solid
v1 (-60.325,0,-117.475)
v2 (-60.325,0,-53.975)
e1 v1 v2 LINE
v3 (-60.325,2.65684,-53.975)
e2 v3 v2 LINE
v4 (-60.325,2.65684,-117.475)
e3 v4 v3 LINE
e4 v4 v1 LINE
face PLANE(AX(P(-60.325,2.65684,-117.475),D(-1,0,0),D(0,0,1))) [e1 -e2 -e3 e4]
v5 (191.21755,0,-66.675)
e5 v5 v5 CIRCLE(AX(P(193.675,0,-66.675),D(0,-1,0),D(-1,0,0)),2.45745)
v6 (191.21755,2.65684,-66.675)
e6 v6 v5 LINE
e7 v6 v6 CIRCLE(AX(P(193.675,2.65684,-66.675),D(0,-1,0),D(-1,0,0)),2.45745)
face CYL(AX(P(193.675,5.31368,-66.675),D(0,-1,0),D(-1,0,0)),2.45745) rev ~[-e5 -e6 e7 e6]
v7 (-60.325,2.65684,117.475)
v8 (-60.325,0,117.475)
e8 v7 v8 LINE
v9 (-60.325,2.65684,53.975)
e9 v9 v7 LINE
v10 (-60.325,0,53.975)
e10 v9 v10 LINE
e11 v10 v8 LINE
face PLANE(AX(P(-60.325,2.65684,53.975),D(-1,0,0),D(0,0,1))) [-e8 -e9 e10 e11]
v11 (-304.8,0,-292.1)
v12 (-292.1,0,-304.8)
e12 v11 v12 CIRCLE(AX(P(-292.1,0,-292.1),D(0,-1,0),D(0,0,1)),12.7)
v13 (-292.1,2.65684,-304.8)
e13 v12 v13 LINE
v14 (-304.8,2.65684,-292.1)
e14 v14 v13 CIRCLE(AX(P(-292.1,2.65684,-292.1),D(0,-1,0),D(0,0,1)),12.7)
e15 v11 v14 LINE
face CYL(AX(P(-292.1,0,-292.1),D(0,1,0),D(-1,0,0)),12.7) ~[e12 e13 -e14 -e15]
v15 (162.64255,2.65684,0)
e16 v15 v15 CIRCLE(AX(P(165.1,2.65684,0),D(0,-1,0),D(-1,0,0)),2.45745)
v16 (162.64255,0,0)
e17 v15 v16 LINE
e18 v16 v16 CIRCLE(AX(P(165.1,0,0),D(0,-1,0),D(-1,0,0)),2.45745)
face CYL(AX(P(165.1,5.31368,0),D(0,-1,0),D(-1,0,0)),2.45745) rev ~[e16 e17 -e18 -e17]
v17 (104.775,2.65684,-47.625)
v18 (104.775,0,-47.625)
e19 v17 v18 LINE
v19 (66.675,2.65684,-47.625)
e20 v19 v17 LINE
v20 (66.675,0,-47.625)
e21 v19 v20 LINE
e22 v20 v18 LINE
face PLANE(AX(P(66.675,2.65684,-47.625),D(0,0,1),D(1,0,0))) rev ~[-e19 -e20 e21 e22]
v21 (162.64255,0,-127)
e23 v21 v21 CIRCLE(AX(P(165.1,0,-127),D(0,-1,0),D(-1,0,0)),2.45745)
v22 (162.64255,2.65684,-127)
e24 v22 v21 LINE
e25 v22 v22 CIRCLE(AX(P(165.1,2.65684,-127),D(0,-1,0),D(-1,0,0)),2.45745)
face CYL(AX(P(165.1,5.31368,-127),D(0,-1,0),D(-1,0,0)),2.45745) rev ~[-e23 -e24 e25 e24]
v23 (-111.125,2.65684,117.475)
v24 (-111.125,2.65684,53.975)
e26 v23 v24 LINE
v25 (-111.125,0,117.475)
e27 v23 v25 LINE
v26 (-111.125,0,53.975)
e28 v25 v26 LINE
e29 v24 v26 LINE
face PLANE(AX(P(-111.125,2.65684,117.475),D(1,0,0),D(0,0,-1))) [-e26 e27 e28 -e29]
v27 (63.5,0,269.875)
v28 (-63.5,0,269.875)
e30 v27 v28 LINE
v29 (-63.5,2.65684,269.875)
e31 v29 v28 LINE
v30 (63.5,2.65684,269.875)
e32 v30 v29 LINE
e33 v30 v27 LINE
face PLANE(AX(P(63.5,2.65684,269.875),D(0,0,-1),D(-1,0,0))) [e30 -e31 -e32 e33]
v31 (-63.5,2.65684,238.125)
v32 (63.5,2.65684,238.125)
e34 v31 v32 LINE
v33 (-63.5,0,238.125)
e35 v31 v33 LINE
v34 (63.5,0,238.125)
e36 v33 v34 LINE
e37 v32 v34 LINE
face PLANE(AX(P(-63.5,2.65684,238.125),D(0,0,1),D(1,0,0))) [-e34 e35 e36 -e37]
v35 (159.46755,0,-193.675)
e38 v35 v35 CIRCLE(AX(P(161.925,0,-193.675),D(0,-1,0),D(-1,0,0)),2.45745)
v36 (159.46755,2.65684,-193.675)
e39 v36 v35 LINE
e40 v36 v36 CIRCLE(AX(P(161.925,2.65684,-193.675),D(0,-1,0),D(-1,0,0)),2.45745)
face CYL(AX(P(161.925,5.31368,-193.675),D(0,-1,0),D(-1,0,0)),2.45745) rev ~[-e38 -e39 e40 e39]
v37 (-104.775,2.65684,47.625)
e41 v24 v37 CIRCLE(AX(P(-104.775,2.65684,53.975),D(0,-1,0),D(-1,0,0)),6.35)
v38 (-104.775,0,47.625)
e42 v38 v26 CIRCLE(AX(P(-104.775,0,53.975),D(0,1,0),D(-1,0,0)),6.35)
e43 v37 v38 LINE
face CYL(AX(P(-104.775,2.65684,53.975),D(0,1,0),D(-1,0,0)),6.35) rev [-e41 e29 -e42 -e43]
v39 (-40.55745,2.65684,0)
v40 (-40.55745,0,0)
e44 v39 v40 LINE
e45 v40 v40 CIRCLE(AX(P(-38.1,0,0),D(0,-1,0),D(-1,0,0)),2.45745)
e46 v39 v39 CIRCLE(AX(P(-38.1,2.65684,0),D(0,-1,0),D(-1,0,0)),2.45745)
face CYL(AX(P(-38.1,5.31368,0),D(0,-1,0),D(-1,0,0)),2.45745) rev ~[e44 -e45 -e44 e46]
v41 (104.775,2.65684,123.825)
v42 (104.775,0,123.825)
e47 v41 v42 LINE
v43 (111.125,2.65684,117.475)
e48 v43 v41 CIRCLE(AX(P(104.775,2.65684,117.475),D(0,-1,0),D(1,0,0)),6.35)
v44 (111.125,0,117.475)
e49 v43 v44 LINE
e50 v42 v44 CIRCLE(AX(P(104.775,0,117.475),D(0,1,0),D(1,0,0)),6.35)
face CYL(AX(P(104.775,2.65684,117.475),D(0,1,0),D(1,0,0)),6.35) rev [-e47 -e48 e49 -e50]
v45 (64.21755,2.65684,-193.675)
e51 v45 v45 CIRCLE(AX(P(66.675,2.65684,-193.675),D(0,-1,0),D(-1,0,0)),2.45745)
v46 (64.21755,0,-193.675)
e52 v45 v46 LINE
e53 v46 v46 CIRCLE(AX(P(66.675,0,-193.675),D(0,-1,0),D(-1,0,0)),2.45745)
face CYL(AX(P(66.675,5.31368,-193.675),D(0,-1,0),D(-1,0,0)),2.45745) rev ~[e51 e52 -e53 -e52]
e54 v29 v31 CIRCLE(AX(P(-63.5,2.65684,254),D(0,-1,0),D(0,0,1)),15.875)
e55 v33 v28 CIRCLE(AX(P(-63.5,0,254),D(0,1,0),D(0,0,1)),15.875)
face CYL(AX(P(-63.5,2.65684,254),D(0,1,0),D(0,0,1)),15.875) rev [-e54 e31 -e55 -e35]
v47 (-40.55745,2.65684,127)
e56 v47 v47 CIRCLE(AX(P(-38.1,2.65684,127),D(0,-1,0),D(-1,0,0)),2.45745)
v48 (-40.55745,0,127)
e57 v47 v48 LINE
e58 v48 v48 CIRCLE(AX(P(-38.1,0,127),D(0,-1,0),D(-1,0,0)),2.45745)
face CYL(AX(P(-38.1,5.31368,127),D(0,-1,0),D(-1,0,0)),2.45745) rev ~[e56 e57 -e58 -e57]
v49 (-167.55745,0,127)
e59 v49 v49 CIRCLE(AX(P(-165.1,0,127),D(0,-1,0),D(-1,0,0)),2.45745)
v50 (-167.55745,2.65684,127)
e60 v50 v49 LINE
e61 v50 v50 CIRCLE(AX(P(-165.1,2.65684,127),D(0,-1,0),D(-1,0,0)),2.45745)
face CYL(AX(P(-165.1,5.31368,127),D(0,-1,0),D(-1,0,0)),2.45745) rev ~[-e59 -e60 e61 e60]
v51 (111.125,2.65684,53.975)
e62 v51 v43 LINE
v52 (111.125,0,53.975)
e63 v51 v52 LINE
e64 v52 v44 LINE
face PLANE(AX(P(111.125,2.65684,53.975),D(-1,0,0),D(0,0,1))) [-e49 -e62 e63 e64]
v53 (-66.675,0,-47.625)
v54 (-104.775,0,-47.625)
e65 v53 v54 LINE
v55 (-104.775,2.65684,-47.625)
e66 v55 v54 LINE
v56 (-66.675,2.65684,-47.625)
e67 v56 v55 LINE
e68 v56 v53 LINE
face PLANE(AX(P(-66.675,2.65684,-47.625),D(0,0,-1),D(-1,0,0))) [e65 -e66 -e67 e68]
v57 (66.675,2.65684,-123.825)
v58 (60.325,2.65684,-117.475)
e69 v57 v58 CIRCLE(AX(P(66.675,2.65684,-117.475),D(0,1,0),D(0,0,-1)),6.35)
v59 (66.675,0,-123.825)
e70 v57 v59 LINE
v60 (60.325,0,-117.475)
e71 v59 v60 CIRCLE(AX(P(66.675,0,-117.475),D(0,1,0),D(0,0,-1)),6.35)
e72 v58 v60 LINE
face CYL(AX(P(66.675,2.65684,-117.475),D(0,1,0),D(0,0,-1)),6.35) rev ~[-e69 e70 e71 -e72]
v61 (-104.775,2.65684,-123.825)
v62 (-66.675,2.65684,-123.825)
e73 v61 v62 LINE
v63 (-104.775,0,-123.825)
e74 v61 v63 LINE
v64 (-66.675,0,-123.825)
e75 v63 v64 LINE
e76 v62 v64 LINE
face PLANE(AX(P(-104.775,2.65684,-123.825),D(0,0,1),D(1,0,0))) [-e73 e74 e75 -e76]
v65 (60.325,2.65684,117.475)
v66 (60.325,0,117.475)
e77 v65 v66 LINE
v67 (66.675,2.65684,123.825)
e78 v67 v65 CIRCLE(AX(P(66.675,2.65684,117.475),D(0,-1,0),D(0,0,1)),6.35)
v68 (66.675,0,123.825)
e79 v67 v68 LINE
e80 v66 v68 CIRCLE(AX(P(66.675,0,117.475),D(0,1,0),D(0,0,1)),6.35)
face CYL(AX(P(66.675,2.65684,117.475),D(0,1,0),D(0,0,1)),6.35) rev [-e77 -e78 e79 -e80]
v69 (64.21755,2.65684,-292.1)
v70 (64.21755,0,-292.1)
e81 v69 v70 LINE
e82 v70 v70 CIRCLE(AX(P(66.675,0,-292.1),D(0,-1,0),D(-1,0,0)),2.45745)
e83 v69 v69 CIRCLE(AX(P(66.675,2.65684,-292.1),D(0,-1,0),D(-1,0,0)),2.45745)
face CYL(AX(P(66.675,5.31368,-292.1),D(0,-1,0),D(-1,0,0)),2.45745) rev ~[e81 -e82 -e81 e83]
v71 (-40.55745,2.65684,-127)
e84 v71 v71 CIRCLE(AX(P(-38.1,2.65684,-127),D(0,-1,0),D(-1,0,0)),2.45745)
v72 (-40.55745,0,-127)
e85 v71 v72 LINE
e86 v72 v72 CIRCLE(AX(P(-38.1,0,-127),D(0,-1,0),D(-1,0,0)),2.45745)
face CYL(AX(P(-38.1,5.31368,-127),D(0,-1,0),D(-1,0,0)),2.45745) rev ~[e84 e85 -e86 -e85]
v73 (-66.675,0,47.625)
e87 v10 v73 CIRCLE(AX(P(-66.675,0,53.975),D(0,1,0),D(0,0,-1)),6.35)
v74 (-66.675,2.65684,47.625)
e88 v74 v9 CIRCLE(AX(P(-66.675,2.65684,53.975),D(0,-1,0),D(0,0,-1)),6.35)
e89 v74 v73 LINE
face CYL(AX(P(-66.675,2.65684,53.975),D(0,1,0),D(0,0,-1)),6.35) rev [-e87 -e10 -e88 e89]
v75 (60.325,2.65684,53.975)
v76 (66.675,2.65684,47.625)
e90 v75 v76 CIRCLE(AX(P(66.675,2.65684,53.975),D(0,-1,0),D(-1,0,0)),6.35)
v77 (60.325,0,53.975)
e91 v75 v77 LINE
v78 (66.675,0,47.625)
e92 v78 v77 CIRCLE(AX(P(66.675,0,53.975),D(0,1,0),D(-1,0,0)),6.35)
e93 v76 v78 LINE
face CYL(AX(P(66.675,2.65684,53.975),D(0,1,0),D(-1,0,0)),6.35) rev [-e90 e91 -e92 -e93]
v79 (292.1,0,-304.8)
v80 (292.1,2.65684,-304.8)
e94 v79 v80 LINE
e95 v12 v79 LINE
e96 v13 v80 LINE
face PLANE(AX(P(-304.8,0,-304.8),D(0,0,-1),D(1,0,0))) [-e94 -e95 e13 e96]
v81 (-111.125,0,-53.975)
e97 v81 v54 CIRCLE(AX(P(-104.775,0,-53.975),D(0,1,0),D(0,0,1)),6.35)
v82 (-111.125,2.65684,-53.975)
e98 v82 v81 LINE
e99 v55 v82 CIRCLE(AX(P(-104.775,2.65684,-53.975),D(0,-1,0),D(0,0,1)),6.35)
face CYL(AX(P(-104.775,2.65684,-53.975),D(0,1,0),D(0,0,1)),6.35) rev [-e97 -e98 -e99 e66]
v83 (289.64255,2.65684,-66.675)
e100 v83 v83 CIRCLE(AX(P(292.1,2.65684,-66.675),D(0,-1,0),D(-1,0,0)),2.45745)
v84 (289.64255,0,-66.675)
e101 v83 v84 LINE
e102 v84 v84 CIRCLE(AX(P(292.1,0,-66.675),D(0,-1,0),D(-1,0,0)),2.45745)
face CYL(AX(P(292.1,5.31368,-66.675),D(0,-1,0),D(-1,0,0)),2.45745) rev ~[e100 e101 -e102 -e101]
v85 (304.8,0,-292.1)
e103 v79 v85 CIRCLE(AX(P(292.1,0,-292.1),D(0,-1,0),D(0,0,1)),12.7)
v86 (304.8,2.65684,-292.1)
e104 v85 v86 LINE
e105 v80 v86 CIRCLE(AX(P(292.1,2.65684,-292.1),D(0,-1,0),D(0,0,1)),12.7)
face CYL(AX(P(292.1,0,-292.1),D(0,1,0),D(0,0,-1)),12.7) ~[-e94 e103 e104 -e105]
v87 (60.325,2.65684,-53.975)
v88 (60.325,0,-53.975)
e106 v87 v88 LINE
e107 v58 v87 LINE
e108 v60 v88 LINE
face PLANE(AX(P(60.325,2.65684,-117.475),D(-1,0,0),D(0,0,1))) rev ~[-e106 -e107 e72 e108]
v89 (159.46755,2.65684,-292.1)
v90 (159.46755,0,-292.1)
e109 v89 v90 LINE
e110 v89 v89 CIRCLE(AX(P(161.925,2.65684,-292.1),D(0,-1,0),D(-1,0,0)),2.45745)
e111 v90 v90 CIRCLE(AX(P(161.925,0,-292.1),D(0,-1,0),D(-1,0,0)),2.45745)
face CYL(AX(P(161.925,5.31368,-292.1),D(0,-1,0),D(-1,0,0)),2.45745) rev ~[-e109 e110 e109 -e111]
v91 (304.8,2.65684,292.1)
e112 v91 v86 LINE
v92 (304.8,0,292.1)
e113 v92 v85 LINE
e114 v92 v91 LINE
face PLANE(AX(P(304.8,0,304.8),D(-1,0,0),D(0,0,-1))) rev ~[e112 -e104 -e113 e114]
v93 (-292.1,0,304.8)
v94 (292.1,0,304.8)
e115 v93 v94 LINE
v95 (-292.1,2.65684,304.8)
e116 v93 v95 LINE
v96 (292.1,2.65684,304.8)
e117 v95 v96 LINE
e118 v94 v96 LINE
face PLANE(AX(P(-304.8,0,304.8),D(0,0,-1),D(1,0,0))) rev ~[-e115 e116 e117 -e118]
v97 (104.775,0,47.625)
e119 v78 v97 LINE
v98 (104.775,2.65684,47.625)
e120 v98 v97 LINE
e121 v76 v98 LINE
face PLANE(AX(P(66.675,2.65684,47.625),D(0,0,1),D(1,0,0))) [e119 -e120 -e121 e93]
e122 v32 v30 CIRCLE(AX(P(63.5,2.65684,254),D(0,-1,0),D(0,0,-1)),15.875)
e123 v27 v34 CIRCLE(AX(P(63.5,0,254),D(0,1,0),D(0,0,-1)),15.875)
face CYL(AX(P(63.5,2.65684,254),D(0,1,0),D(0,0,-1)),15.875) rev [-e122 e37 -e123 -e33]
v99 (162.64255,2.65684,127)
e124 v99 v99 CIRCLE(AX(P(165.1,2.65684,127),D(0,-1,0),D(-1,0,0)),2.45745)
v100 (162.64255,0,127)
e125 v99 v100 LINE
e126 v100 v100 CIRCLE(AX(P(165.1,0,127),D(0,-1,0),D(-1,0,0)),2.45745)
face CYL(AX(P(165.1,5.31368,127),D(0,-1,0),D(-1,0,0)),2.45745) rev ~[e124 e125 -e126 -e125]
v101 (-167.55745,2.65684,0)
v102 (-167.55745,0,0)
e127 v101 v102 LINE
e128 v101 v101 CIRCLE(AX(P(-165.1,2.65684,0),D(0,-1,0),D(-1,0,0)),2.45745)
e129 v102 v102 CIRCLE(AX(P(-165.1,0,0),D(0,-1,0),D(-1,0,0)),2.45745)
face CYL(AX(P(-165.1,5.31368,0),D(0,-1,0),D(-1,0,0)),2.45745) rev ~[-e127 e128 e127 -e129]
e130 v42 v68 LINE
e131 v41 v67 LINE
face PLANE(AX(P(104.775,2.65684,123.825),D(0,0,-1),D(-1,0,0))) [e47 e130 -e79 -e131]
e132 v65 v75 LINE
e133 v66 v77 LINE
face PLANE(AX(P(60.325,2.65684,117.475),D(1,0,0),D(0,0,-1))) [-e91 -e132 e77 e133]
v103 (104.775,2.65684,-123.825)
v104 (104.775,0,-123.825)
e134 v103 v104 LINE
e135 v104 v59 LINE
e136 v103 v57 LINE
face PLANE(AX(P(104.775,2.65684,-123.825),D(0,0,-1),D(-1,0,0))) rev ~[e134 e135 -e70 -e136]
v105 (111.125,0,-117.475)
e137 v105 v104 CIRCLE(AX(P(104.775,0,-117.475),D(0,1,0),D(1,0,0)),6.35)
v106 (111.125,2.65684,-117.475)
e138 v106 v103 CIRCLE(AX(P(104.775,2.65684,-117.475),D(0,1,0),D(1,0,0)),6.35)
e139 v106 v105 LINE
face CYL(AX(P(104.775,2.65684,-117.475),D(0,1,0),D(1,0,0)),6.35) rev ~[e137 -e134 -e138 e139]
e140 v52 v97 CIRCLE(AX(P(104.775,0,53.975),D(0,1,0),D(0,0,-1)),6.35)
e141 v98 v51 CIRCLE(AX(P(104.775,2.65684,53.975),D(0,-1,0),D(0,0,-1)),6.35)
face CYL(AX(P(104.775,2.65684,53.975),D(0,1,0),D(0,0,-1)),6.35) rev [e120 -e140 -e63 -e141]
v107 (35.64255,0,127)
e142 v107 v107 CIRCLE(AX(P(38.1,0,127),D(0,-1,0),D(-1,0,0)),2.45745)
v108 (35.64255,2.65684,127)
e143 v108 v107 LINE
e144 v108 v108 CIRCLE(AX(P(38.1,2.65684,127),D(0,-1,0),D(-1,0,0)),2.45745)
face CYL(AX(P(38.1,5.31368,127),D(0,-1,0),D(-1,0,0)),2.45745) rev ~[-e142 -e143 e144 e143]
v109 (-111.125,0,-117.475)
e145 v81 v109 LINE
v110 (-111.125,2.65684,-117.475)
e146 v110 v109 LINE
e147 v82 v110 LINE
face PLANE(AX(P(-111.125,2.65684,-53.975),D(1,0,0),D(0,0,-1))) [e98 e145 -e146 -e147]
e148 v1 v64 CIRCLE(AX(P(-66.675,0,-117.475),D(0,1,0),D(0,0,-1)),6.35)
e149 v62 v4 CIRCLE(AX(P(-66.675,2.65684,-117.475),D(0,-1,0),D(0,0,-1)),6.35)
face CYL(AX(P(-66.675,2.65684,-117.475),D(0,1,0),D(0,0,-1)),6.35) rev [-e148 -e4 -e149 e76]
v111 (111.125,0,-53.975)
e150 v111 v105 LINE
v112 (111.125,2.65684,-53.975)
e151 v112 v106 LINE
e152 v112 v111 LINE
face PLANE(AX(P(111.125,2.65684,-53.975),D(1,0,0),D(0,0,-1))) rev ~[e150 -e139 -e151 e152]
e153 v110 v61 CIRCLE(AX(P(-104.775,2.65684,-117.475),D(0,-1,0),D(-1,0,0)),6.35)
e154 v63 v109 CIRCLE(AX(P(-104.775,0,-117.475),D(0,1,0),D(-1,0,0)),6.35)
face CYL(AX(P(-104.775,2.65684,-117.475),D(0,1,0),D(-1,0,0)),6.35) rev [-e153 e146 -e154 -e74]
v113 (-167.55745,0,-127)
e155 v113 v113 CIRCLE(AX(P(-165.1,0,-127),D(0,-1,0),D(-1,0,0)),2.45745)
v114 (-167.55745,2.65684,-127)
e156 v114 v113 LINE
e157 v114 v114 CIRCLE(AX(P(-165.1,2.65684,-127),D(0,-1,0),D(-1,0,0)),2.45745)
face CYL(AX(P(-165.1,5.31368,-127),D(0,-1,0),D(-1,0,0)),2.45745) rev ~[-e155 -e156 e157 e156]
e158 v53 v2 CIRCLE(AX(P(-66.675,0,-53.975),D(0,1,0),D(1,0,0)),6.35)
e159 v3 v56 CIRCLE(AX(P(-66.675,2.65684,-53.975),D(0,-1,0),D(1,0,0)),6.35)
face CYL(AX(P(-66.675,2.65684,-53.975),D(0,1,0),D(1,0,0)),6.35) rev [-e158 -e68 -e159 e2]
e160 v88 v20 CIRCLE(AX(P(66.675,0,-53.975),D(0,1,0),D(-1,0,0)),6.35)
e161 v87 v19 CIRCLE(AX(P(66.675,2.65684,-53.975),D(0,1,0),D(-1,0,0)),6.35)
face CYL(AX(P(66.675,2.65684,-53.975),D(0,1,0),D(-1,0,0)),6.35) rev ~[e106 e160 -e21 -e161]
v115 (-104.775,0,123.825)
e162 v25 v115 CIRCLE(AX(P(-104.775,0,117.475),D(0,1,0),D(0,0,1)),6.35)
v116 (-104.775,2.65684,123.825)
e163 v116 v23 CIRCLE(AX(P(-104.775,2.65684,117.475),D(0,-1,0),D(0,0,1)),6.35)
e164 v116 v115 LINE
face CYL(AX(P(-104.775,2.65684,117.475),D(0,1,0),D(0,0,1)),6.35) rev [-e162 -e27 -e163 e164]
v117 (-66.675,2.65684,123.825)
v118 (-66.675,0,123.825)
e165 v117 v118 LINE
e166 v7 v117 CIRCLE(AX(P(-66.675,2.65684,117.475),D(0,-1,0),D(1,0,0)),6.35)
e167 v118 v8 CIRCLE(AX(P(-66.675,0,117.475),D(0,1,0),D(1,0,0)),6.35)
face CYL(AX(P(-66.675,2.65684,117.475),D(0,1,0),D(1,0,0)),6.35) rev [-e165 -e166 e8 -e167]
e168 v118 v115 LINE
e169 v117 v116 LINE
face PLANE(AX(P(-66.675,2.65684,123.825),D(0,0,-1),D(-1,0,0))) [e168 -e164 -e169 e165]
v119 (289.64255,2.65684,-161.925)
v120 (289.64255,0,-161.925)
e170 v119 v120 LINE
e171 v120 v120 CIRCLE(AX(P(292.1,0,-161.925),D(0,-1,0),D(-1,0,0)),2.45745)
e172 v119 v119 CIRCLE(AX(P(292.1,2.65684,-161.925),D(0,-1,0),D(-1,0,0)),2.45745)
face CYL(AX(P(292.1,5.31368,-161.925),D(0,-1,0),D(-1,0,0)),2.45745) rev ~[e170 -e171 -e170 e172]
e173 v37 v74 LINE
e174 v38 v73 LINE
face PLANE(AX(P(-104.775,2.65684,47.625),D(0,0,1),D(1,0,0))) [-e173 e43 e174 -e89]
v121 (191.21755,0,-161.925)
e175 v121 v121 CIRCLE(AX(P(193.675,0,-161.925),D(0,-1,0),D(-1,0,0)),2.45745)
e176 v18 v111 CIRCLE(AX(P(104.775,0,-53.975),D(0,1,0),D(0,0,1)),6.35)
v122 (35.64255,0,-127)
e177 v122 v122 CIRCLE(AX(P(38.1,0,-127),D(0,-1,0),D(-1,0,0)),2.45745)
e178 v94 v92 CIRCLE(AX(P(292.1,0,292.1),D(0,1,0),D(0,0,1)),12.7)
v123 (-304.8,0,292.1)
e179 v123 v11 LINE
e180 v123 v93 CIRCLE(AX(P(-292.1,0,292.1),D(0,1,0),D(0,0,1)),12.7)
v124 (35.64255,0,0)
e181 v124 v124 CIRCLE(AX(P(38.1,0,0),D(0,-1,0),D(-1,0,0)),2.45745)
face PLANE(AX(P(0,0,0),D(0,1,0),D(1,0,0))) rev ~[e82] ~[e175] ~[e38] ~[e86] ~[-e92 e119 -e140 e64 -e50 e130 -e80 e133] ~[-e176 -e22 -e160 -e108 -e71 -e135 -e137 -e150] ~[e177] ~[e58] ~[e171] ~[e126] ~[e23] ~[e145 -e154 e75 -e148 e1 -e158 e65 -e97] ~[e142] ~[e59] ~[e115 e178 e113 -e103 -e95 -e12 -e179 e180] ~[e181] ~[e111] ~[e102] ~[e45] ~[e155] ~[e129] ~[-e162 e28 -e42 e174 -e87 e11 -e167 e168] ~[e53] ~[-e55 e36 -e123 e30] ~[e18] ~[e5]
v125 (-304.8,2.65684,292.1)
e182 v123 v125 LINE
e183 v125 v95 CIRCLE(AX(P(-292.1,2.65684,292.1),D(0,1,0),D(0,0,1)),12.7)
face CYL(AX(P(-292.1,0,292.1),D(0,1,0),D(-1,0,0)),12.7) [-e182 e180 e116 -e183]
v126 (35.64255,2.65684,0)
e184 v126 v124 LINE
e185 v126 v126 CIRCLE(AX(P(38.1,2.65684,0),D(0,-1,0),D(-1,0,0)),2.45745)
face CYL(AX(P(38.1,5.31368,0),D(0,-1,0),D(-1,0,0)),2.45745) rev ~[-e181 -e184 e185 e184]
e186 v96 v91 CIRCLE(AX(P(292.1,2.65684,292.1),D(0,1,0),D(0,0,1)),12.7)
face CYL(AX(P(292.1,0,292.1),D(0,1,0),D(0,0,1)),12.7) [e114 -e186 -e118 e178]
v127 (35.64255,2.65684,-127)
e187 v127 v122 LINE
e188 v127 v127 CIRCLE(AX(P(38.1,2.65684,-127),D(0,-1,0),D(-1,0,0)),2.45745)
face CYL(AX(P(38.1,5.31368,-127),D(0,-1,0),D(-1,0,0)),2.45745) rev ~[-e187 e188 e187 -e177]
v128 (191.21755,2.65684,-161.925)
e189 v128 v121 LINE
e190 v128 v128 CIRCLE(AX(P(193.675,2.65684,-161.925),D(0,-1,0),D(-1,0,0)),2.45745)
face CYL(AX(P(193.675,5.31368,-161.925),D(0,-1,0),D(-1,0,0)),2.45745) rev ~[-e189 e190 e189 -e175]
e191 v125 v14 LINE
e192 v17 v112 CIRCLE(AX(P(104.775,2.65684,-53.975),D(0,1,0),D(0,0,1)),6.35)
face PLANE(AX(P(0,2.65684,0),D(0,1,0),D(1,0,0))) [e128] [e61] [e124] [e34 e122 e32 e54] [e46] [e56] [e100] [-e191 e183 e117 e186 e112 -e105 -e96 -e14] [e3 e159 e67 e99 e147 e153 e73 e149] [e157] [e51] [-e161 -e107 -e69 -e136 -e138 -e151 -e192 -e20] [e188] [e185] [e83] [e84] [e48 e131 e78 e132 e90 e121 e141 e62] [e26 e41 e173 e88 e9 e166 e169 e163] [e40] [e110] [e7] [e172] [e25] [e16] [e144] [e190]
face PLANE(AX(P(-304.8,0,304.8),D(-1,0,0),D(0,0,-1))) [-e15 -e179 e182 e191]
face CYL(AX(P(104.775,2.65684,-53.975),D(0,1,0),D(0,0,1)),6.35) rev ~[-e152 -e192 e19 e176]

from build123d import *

# Parameters (mm, degrees)
SKETCH1_W                        = 609.6
SKETCH1_H                        = 609.6
BOSS_EXTRUDE1_DEPTH              = 2.65684
CUT_EXTRUDE1_DEPTH               = 3.65684
SKETCH3_R                        = 2.3876
CUT_EXTRUDE2_DEPTH               = 3.65684
LPATTERN1_COUNT                  = 2
LPATTERN1_PITCH                  = 203.2
CUT_EXTRUDE3_DEPTH               = 3.65684
FILLET1_R                        = 12.7
SKETCH5_R                        = 2.3876
CUT_EXTRUDE4_DEPTH               = 3.65684
F_10_0_1935_DIAMETER_HOLE1_D     = 4.9149
F_10_0_1935_DIAMETER_HOLE1_DEPTH = 2.65684


with BuildPart() as part:
    # Sketch1 → Boss-Extrude1 (new body)
    with BuildSketch(Plane(origin=(0, 0, 0), x_dir=(1, 0, 0), z_dir=(0, 1, 0))):
        Rectangle(SKETCH1_W, SKETCH1_H)
    extrude(amount=BOSS_EXTRUDE1_DEPTH)

    # Sketch2 → Cut-Extrude1 (cut, through all)
    with BuildSketch(Plane(origin=(0, 2.65684, 0), x_dir=(1, 0, 0), z_dir=(0, 1, 0))):
        with BuildLine():
            Line((-104.775, 123.825), (-66.675, 123.825))
            ThreePointArc((-66.675, 123.825), (-62.184871939, 121.965128061), (-60.325, 117.475))
            Line((-60.325, 117.475), (-60.325, 53.975))
            ThreePointArc((-60.325, 53.975), (-62.184871939, 49.484871939), (-66.675, 47.625))
            Line((-66.675, 47.625), (-104.775, 47.625))
            ThreePointArc((-104.775, 47.625), (-109.265128061, 49.484871939), (-111.125, 53.975))
            Line((-111.125, 53.975), (-111.125, 117.475))
            ThreePointArc((-111.125, 117.475), (-109.265128061, 121.965128061), (-104.775, 123.825))
        make_face()
        with BuildLine():
            Line((-104.775, -47.625), (-66.675, -47.625))
            ThreePointArc((-66.675, -47.625), (-62.184871939, -49.484871939), (-60.325, -53.975))
            Line((-60.325, -53.975), (-60.325, -117.475))
            ThreePointArc((-60.325, -117.475), (-62.184871939, -121.965128061), (-66.675, -123.825))
            Line((-66.675, -123.825), (-104.775, -123.825))
            ThreePointArc((-104.775, -123.825), (-109.265128061, -121.965128061), (-111.125, -117.475))
            Line((-111.125, -117.475), (-111.125, -53.975))
            ThreePointArc((-111.125, -53.975), (-109.265128061, -49.484871939), (-104.775, -47.625))
        make_face()
        with BuildLine():
            Line((66.675, -47.625), (104.775, -47.625))
            ThreePointArc((104.775, -47.625), (109.265128061, -49.484871939), (111.125, -53.975))
            Line((111.125, -53.975), (111.125, -117.475))
            ThreePointArc((111.125, -117.475), (109.265128061, -121.965128061), (104.775, -123.825))
            Line((104.775, -123.825), (66.675, -123.825))
            ThreePointArc((66.675, -123.825), (62.184871939, -121.965128061), (60.325, -117.475))
            Line((60.325, -117.475), (60.325, -53.975))
            ThreePointArc((60.325, -53.975), (62.184871939, -49.484871939), (66.675, -47.625))
        make_face()
        with BuildLine():
            Line((104.775, 123.825), (66.675, 123.825))
            ThreePointArc((66.675, 123.825), (62.184871939, 121.965128061), (60.325, 117.475))
            Line((60.325, 117.475), (60.325, 53.975))
            ThreePointArc((60.325, 53.975), (62.184871939, 49.484871939), (66.675, 47.625))
            Line((66.675, 47.625), (104.775, 47.625))
            ThreePointArc((104.775, 47.625), (109.265128061, 49.484871939), (111.125, 53.975))
            Line((111.125, 53.975), (111.125, 117.475))
            ThreePointArc((111.125, 117.475), (109.265128061, 121.965128061), (104.775, 123.825))
        make_face()
    extrude(amount=-CUT_EXTRUDE1_DEPTH, mode=Mode.SUBTRACT)

    # Sketch3 → Cut-Extrude2 (cut, through all)
    with BuildSketch(Plane(origin=(0, 2.65684, 0), x_dir=(1, 0, 0), z_dir=(0, 1, 0))):
        with Locations((-165.1, 127)):
            Circle(SKETCH3_R)
        with Locations((-165.1, 0)):
            Circle(SKETCH3_R)
        with Locations((-165.1, -127)):
            Circle(SKETCH3_R)
        with Locations((-38.1, 127)):
            Circle(SKETCH3_R)
        with Locations((-38.1, 0)):
            Circle(SKETCH3_R)
        with Locations((-38.1, -127)):
            Circle(SKETCH3_R)
    cut_extrude2 = extrude(amount=-CUT_EXTRUDE2_DEPTH, mode=Mode.SUBTRACT)

    # LPattern1: Cut-Extrude2 ×2
    with Locations(*[(i * LPATTERN1_PITCH, 0, 0) for i in range(1, LPATTERN1_COUNT)]):
        add(cut_extrude2, mode=Mode.SUBTRACT)

    # Sketch4 → Cut-Extrude3 (cut, through all)
    with BuildSketch(Plane(origin=(0, 2.65684, 0), x_dir=(1, 0, 0), z_dir=(0, 1, 0))):
        with BuildLine():
            Line((-63.5, -238.125), (63.5, -238.125))
            ThreePointArc((63.5, -238.125), (79.375, -254), (63.5, -269.875))
            Line((63.5, -269.875), (-63.5, -269.875))
            ThreePointArc((-63.5, -269.875), (-79.375, -254), (-63.5, -238.125))
        make_face()
    extrude(amount=-CUT_EXTRUDE3_DEPTH, mode=Mode.SUBTRACT)

    # Fillet1
    fillet1_edges = [part.edges().sort_by_distance(p)[0] for p in [
        (-304.8, 1.32842, 304.8),
        (304.8, 1.32842, 304.8),
        (-304.8, 1.32842, -304.8),
        (304.8, 1.32842, -304.8),
    ]]
    fillet(fillet1_edges, radius=FILLET1_R)

    # Sketch5 → Cut-Extrude4 (cut, through all)
    with BuildSketch(Plane(origin=(0, 2.65684, 0), x_dir=(1, 0, 0), z_dir=(0, 1, 0))):
        with Locations((161.925, 292.1)):
            Circle(SKETCH5_R)
        with Locations((66.675, 292.1)):
            Circle(SKETCH5_R)
        with Locations((161.925, 193.675)):
            Circle(SKETCH5_R)
        with Locations((66.675, 193.675)):
            Circle(SKETCH5_R)
        with Locations((193.675, 161.925)):
            Circle(SKETCH5_R)
        with Locations((193.675, 66.675)):
            Circle(SKETCH5_R)
        with Locations((292.1, 66.675)):
            Circle(SKETCH5_R)
        with Locations((292.1, 161.925)):
            Circle(SKETCH5_R)
    extrude(amount=-CUT_EXTRUDE4_DEPTH, mode=Mode.SUBTRACT)

    # #10 (0.1935) Diameter Hole1
    with Locations(Plane(origin=(0, 2.65684, 0), x_dir=(1, 0, 0), z_dir=(0, 1, 0))):
        with Locations((161.925, 292.1), (66.675, 292.1), (292.1, 161.925), (193.675, 161.925), (161.925, 193.675), (66.675, 193.675), (165.1, 127), (38.1, 127), (-38.1, 127), (292.1, 66.675), (193.675, 66.675), (165.1, 0), (165.1, -127), (-38.1, 0), (38.1, 0), (38.1, -127), (-38.1, -127), (-165.1, -127), (-165.1, 0), (-165.1, 127)):
            Hole(F_10_0_1935_DIAMETER_HOLE1_D / 2, depth=F_10_0_1935_DIAMETER_HOLE1_DEPTH)


solid = part.part
